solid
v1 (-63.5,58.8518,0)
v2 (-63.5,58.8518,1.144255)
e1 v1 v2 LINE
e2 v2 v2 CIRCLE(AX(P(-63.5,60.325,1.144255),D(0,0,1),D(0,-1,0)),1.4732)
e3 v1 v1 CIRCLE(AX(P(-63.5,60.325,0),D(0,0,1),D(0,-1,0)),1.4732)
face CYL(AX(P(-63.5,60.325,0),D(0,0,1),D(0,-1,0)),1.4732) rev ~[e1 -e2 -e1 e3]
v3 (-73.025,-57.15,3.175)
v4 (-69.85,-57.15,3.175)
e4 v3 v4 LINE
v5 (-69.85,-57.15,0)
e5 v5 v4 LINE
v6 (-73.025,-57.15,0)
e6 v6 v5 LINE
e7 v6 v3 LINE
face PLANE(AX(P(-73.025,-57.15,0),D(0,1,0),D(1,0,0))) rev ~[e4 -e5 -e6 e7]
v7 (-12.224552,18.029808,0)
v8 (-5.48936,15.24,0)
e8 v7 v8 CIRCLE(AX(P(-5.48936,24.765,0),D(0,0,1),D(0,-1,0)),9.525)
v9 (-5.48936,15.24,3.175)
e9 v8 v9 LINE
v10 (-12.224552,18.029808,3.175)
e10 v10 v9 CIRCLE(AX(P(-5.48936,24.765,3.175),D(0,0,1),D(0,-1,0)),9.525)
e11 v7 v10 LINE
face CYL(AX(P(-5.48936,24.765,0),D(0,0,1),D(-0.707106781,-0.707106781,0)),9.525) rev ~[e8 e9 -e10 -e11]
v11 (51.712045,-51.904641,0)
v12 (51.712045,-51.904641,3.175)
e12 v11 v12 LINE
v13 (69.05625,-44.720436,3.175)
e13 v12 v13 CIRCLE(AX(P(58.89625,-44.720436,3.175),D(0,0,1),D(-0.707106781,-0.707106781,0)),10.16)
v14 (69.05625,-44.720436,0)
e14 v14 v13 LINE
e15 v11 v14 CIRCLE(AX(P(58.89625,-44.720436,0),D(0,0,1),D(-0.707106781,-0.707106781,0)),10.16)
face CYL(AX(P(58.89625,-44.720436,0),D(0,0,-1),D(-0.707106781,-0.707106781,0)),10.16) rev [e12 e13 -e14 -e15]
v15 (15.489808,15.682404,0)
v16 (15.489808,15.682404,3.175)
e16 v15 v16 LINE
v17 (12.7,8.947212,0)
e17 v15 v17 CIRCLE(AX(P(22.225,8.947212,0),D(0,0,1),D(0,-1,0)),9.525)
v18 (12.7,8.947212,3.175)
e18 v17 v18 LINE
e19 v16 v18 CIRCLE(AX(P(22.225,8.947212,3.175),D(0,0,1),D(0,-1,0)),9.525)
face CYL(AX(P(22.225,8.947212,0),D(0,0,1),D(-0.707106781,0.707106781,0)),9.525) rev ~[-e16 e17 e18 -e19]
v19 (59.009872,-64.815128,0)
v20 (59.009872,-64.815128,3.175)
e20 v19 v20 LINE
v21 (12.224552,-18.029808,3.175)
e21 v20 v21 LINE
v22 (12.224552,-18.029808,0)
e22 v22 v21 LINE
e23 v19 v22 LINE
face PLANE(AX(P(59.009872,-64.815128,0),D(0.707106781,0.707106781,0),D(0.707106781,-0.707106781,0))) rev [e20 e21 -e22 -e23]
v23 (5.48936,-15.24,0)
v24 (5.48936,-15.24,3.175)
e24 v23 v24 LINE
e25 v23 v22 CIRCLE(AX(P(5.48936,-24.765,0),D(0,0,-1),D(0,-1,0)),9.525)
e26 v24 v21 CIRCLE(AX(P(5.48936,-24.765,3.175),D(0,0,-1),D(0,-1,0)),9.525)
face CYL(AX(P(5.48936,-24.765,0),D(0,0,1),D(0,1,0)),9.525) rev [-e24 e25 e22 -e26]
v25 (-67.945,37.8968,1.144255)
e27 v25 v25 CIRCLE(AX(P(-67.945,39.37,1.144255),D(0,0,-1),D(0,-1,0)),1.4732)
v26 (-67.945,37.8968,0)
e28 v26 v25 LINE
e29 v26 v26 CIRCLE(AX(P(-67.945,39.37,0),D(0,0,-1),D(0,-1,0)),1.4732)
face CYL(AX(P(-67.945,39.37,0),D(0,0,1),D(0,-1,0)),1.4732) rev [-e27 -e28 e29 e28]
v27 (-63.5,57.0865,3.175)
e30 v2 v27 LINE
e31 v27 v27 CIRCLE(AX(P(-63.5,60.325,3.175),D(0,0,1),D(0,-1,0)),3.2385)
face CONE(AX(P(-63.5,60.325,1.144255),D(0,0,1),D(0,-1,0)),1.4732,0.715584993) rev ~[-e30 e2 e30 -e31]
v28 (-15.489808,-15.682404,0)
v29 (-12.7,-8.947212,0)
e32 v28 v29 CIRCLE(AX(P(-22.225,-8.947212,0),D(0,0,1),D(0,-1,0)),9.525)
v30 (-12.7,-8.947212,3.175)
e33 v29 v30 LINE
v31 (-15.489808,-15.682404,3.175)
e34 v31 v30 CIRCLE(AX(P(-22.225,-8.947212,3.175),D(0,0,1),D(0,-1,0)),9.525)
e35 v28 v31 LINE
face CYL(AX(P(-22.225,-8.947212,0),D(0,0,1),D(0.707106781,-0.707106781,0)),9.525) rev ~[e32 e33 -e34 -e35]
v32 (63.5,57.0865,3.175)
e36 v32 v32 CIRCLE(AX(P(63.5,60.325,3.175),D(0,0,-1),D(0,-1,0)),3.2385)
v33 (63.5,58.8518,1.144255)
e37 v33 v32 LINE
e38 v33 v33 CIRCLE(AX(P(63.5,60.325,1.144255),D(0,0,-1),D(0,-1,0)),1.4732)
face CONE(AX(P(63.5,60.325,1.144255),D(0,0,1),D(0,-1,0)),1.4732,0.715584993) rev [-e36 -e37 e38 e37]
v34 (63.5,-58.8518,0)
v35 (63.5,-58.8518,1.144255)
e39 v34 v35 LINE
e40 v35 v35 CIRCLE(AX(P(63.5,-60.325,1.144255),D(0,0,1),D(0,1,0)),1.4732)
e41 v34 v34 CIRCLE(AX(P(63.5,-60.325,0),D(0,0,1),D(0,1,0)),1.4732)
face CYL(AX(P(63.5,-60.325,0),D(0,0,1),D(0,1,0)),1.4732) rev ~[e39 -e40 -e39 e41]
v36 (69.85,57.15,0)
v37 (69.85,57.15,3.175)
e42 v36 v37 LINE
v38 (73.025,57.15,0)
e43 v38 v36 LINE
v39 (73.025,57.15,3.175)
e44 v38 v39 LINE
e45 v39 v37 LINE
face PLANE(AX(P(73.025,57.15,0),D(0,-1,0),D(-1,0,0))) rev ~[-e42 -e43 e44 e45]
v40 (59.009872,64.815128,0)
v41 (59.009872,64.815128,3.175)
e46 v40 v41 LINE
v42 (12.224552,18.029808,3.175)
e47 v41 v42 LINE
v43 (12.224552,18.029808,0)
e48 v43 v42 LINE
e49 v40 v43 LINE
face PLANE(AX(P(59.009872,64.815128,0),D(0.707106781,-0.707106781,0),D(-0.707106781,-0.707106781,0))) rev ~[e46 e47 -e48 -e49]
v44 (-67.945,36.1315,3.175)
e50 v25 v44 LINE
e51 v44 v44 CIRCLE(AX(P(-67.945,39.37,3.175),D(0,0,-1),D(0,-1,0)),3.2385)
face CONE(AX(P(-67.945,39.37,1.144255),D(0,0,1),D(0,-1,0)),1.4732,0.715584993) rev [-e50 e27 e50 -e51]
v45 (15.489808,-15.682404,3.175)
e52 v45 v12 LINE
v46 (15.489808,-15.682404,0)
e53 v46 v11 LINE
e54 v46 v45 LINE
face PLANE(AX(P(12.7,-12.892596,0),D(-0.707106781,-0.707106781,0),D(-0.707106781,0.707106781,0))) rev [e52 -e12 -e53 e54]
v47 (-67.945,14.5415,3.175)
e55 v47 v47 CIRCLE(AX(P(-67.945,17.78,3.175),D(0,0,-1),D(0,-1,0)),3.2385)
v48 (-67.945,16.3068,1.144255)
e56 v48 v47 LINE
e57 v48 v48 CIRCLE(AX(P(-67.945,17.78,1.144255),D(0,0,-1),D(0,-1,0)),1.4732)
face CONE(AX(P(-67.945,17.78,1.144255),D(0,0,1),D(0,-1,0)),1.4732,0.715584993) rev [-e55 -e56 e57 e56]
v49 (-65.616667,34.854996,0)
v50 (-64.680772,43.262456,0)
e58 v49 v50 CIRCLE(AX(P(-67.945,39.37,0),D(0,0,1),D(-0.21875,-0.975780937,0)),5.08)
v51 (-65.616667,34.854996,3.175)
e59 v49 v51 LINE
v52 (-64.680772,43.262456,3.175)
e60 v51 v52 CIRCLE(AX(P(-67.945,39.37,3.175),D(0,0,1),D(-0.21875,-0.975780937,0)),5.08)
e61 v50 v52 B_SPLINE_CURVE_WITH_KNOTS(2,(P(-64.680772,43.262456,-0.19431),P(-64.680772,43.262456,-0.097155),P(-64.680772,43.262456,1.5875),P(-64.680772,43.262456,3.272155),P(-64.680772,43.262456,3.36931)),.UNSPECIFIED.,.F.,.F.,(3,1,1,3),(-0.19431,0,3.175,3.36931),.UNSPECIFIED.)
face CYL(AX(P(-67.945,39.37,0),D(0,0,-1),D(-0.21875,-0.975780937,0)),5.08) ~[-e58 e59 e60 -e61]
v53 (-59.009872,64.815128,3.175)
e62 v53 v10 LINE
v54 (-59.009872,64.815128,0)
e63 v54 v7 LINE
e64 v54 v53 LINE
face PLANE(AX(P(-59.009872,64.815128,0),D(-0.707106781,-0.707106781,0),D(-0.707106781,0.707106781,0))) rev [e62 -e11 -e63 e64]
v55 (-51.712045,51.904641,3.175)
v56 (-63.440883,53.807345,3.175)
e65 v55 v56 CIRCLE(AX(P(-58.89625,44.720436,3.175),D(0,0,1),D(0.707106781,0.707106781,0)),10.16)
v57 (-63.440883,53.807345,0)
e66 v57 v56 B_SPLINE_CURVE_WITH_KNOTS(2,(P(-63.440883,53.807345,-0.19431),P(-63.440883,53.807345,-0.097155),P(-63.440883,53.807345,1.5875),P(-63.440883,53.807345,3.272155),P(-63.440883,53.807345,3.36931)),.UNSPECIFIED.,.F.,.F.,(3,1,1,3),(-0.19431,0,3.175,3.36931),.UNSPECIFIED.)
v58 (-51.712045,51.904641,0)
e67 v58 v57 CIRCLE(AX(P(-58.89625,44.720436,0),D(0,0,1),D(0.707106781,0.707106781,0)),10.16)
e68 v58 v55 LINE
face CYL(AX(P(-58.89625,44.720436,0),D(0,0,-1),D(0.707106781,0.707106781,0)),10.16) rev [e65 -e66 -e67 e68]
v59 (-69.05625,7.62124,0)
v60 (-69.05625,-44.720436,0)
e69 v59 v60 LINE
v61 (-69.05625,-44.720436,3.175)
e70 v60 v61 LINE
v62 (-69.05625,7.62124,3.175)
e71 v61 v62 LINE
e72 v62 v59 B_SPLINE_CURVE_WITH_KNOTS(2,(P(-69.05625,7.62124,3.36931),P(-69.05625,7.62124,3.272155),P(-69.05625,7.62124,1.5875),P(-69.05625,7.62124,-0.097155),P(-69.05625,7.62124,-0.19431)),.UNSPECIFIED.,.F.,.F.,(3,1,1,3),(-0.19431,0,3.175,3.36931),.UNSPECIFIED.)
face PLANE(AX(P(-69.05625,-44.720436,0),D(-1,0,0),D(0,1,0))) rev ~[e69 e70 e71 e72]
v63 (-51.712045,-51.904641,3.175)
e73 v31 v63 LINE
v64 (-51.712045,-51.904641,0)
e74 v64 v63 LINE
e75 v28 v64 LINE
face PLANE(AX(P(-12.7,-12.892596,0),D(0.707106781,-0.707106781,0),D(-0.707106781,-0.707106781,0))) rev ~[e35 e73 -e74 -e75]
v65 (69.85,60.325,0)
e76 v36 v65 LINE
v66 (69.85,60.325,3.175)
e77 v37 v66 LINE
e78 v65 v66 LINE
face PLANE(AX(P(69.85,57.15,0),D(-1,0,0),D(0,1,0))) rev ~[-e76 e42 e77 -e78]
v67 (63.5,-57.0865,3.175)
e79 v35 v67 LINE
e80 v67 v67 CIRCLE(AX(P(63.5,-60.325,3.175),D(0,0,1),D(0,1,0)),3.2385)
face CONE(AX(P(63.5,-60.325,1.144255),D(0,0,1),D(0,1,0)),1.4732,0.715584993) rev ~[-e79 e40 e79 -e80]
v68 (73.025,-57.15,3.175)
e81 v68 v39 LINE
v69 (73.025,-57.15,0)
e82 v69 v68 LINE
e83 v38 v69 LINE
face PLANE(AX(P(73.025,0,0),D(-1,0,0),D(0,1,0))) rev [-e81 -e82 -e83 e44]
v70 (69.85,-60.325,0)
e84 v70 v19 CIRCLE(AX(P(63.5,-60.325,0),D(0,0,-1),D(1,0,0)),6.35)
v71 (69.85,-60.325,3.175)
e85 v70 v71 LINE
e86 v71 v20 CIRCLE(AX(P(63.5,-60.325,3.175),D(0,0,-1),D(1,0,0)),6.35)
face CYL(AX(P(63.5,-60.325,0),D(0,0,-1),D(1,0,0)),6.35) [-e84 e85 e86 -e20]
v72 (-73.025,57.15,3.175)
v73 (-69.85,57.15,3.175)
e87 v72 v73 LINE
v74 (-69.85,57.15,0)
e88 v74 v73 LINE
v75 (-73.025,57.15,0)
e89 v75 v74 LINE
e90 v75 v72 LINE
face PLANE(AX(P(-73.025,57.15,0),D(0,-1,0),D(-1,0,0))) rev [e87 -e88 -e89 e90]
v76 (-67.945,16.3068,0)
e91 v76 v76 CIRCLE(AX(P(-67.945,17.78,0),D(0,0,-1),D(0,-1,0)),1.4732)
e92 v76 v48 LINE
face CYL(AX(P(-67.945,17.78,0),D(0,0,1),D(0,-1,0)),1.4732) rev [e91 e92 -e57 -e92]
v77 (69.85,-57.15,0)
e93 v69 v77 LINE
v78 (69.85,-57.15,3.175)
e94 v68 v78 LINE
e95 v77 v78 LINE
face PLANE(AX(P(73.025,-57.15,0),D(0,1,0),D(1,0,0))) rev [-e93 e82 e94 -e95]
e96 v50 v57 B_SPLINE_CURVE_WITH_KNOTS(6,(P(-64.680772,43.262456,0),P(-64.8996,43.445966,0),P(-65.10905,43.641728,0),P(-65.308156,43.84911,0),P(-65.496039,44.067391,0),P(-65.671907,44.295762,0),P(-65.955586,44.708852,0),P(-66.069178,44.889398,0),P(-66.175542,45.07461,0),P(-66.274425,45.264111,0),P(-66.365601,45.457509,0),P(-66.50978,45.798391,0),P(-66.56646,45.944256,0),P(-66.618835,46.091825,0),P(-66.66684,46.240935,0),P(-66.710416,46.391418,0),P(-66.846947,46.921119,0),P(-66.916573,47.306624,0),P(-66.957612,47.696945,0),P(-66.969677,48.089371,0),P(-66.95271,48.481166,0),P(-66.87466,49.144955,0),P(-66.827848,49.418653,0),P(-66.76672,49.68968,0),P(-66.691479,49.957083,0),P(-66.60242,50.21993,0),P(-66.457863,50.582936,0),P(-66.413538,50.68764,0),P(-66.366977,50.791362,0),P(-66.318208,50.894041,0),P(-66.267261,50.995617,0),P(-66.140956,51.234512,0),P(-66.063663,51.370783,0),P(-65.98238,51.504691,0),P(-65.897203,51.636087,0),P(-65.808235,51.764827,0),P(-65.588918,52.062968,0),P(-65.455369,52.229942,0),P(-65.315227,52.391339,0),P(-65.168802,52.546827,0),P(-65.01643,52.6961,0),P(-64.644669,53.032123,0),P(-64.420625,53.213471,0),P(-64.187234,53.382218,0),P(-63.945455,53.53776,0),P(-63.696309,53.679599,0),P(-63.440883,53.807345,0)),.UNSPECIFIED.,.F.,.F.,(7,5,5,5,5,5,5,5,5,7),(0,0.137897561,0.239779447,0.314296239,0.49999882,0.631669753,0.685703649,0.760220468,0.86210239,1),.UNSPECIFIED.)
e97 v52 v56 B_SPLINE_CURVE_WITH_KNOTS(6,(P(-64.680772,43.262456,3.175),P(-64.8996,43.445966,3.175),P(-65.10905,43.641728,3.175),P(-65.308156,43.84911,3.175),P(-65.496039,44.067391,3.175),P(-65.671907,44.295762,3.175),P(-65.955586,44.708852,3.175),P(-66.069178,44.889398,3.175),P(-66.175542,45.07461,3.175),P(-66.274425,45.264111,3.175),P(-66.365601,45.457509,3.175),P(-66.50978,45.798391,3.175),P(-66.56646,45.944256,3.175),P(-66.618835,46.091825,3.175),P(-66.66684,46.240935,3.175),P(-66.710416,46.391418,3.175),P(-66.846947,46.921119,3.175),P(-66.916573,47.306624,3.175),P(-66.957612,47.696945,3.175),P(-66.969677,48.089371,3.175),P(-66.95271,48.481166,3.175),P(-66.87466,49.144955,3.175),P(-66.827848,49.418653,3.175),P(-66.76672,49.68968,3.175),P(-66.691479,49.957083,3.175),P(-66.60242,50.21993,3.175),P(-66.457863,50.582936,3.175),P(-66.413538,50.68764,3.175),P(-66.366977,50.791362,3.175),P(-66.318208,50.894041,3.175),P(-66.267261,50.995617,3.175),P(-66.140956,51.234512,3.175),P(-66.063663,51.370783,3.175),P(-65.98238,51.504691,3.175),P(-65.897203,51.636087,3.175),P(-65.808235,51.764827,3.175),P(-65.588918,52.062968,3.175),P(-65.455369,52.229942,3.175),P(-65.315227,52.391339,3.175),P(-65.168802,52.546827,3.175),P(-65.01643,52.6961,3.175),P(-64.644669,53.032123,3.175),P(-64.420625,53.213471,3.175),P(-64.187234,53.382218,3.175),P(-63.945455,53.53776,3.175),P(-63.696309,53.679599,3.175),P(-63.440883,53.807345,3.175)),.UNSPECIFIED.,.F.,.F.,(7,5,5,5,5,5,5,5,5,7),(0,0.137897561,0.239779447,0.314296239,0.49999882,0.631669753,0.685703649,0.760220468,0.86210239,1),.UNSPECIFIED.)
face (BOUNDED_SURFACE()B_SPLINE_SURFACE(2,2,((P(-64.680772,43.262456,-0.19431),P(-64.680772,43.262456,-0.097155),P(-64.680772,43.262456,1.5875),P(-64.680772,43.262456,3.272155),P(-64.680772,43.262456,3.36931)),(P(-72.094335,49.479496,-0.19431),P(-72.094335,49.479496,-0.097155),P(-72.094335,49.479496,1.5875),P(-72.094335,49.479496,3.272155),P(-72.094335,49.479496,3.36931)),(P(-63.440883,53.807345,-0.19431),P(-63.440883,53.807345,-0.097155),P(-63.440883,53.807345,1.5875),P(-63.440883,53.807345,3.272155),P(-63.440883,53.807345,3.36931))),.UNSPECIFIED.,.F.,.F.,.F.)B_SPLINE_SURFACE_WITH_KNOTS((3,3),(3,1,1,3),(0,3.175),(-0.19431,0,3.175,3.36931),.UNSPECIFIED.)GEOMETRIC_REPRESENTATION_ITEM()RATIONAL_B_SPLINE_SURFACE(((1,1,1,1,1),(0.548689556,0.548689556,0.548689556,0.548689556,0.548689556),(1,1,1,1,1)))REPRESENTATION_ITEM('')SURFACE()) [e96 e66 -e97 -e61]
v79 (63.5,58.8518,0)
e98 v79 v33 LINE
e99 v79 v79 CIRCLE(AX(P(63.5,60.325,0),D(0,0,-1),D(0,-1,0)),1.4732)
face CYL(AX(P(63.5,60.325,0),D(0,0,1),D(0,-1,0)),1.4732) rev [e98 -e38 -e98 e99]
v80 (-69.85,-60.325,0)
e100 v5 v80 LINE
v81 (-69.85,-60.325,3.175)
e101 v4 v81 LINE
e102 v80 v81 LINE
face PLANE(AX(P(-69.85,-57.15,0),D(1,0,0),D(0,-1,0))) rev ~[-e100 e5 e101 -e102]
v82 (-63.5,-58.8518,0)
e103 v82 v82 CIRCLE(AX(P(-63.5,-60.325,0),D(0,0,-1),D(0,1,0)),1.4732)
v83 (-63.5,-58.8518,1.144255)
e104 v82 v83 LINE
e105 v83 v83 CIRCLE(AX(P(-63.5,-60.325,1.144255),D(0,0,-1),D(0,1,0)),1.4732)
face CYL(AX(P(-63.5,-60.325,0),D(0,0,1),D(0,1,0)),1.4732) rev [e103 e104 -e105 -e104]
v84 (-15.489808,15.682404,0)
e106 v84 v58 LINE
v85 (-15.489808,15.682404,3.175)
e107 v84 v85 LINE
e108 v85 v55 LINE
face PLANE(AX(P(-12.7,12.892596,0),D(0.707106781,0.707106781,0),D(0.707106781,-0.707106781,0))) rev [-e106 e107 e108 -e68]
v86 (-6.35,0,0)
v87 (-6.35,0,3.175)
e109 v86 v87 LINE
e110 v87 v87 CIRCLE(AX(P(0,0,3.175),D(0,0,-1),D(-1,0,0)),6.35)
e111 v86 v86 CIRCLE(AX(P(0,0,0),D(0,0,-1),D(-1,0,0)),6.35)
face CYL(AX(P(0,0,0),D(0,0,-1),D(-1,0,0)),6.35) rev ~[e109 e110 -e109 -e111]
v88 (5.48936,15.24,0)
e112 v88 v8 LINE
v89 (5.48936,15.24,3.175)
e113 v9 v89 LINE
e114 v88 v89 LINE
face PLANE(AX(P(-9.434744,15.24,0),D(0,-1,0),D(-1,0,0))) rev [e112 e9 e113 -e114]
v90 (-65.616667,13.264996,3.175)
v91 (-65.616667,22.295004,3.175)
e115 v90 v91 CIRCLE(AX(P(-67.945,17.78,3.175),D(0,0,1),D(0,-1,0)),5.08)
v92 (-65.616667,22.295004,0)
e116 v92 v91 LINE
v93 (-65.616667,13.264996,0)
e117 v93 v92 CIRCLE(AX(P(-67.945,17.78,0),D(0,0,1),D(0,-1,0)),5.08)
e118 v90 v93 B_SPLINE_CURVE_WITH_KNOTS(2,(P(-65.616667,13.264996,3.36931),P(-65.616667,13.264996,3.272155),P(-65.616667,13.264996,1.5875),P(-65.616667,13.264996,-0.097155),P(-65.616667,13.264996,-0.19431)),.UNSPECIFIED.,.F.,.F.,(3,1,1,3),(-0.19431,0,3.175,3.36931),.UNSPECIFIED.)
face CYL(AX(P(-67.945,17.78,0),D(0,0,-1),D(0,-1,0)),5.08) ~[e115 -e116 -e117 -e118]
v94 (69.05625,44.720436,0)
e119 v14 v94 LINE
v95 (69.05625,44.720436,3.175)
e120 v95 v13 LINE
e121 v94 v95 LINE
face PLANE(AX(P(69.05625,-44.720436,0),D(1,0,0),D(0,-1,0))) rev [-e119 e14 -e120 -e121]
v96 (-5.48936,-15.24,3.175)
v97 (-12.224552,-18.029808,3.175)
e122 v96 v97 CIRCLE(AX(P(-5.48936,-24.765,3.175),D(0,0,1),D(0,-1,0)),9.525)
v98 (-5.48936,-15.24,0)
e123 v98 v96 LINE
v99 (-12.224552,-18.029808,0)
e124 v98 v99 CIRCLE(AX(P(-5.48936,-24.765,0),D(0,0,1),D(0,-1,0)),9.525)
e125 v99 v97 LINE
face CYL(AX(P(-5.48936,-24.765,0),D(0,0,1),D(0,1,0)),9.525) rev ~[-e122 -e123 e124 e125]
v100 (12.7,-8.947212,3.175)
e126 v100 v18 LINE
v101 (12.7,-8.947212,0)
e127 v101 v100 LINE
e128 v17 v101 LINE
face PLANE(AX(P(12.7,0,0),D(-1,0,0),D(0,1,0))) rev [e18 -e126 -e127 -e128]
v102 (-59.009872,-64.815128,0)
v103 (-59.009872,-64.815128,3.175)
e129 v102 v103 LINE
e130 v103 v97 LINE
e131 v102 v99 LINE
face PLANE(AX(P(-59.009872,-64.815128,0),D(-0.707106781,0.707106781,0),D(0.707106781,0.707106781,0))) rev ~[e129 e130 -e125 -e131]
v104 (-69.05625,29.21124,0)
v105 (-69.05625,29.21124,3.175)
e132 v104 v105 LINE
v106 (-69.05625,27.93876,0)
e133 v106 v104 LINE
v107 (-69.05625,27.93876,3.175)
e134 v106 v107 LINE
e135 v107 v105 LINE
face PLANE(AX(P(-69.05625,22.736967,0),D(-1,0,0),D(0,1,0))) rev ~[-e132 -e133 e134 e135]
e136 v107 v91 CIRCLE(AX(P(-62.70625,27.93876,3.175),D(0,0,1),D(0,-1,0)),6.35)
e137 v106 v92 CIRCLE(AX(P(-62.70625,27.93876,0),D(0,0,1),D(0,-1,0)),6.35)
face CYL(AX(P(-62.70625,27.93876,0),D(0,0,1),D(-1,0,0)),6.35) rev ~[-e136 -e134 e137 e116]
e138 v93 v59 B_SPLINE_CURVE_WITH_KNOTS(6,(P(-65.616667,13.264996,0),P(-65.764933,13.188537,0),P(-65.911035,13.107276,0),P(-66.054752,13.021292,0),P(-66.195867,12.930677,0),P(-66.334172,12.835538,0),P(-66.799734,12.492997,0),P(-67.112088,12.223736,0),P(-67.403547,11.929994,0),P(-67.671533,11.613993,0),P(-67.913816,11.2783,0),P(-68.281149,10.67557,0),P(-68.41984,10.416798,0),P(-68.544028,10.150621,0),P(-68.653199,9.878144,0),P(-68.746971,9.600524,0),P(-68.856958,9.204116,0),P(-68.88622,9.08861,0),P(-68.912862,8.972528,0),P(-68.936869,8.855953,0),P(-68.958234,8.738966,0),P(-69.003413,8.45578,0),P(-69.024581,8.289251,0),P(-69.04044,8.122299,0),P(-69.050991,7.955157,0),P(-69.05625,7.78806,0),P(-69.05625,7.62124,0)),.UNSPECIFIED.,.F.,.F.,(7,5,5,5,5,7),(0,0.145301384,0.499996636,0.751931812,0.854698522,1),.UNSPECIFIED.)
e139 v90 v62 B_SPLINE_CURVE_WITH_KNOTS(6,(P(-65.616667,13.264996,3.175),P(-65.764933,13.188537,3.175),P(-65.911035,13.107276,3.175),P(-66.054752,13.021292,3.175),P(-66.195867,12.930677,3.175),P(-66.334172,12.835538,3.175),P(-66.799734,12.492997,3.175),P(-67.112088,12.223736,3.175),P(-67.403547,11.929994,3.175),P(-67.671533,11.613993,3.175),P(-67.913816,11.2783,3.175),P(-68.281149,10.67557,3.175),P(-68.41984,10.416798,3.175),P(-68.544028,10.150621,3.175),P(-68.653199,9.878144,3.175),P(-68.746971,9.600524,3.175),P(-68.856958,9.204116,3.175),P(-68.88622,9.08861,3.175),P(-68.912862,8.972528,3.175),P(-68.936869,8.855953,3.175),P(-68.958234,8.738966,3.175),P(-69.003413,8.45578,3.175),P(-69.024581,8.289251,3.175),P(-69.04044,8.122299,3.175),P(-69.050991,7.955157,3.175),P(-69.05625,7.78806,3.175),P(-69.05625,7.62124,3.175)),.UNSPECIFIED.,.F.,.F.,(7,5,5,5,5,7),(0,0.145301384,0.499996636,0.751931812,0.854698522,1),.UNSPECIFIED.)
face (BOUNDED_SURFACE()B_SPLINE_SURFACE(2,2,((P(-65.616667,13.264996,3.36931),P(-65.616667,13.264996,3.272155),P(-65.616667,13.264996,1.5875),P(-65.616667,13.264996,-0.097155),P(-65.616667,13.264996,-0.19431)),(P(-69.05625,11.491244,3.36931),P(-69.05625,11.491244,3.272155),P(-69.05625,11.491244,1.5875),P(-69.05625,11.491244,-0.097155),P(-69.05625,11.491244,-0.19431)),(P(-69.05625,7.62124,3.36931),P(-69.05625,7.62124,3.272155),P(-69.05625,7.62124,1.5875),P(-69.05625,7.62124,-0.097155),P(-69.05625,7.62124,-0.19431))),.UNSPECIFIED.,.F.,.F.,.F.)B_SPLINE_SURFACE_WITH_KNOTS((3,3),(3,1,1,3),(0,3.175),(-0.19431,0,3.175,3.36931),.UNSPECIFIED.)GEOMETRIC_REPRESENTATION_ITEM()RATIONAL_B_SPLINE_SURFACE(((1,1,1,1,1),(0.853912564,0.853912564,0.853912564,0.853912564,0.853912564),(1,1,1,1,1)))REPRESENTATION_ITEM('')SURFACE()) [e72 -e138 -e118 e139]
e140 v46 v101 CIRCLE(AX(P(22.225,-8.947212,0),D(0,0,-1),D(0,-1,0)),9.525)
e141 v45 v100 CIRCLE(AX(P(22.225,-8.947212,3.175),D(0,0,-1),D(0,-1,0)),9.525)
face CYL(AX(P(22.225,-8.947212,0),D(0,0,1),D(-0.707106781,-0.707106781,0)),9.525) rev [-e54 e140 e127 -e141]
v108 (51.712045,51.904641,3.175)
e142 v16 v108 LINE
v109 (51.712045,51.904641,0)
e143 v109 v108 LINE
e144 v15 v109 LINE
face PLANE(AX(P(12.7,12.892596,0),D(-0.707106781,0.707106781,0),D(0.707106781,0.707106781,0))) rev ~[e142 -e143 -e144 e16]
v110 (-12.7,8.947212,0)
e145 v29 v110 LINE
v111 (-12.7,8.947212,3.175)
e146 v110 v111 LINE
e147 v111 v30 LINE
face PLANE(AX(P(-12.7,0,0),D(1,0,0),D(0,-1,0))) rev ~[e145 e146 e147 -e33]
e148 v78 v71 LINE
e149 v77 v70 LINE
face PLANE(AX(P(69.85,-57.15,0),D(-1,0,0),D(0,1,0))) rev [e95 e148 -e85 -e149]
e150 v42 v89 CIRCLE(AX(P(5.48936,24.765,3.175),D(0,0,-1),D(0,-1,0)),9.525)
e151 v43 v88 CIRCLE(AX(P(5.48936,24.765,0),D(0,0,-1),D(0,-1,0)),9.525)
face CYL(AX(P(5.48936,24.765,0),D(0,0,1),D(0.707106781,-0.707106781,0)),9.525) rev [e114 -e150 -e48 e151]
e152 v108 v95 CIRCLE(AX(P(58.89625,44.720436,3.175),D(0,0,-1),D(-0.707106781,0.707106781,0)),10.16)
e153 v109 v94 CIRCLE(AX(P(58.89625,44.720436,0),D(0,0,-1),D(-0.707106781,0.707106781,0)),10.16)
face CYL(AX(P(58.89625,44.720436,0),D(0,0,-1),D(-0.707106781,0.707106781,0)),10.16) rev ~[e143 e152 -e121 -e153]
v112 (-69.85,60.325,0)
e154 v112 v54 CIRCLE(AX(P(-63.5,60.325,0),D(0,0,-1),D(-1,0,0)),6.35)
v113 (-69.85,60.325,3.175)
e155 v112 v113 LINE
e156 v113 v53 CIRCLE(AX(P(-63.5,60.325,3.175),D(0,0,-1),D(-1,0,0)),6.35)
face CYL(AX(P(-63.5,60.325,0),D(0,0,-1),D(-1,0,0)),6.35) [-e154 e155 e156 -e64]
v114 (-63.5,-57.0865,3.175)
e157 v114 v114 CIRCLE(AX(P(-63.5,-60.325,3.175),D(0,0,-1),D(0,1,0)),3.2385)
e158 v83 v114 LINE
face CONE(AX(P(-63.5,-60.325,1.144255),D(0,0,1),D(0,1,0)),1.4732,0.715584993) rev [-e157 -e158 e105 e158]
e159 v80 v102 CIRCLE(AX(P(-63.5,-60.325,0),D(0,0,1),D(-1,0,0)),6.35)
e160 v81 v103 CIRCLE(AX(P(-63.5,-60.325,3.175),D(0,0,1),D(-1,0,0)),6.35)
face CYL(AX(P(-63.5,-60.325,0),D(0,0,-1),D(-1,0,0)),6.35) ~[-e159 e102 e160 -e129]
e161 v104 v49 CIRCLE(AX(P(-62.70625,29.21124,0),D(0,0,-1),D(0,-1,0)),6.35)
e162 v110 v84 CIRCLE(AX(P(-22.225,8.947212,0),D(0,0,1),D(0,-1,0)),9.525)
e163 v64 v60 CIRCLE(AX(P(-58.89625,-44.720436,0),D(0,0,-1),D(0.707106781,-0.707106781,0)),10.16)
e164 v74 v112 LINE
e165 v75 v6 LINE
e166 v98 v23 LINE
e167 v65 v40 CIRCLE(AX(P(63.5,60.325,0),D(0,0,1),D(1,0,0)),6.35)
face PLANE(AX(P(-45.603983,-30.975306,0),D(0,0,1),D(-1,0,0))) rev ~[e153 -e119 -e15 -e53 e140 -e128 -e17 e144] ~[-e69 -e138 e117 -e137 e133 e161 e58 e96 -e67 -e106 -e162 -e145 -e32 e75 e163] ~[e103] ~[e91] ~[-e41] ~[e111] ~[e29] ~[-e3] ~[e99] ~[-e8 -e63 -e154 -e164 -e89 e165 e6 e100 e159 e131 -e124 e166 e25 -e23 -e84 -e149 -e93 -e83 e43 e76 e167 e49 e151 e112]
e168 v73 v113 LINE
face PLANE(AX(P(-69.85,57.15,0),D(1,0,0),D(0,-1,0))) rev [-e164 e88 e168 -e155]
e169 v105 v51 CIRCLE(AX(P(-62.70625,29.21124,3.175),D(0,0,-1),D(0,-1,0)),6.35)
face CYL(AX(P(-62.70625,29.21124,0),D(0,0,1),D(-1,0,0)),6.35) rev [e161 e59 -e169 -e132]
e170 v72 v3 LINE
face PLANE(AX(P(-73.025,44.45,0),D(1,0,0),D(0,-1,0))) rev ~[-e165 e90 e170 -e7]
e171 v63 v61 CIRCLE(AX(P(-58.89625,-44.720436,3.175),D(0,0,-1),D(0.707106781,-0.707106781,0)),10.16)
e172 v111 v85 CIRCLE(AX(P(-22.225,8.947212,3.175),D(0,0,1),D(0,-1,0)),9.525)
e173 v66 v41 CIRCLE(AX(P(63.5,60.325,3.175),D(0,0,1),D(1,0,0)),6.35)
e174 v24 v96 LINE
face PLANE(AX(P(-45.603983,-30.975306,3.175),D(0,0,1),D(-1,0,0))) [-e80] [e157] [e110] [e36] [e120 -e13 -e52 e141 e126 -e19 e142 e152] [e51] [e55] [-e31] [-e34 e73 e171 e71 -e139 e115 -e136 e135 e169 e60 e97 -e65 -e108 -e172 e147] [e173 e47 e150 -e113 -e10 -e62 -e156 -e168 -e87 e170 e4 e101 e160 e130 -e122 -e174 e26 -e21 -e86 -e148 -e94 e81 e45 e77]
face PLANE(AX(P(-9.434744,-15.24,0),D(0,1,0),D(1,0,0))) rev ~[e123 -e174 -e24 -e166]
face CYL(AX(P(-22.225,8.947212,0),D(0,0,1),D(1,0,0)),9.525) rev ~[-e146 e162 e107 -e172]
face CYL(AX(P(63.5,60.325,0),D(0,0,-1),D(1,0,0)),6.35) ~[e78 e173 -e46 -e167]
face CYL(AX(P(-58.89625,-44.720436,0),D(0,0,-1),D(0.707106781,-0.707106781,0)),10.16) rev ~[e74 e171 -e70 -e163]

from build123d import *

# Parameters (mm, degrees)
BOSS_EXTRUDE1_DEPTH           = 3.175
MIRROR2_COPY_1_DEPTH          = 3.175
INTERNAL_SHARPS_R             = 9.525
IMU_MOUNTING_DEPTH            = 3.175
IMU_MOUNTING_HOLES_AT_2_COUNT = 2
IMU_MOUNTING_HOLES_AT_2_PITCH = 21.59
FILLET4_R                     = 6.35
SKETCH6_R                     = 6.35
MATERIAL_REMOVAL_DEPTH        = 99.935771608


with BuildPart() as part:
    # Sketch1 → Boss-Extrude1 (new body)
    with BuildSketch(Plane.XY):
        with BuildLine():
            Line((9.434743879, 15.24), (0, 15.24))
            Line((0, 15.24), (0, 0))
            Line((0, 0), (12.7, 0))
            Line((12.7, 0), (12.7, 12.892596045))
            Line((12.7, 12.892596045), (51.712045103, 51.904641149))
            ThreePointArc((51.712045103, 51.904641149), (62.784313673, 54.107052302), (69.05625, 44.720436252))
            Line((69.05625, 44.720436252), (69.05625, 0))
            Line((69.05625, 0), (73.025, 0))
            Line((73.025, 0), (73.025, 57.15))
            Line((73.025, 57.15), (69.85, 57.15))
            Line((69.85, 57.15), (69.85, 60.325))
            ThreePointArc((69.85, 60.325), (65.930039796, 66.191635031), (59.009871939, 64.815128061))
            Line((59.009871939, 64.815128061), (9.434743879, 15.24))
        make_face()
    boss_extrude1 = extrude(amount=BOSS_EXTRUDE1_DEPTH)

    # Sketch11 → CSK for #4 Flat Head Machine Screw1 (revolve, cut)
    with BuildSketch(Plane(origin=(63.5, 60.325, 3.175), x_dir=(0, -1, 0), z_dir=(1, 0, 0))):
        Polygon((0, 0), (0, 3.175), (1.4732, 3.175), (1.4732, 2.030745349), (3.2385, 0), align=None)
    csk_for_4_flat_head_machine_screw1 = revolve(axis=Axis((63.5, 60.325, 9.525), (0, 0, -1)), mode=Mode.SUBTRACT)

    # Mirror1: Boss-Extrude1, CSK for #4 Flat Head Machine Screw1 across plane
    add(boss_extrude1.mirror(Plane.ZX))
    add(csk_for_4_flat_head_machine_screw1.mirror(Plane.ZX), mode=Mode.SUBTRACT)

    # Mirror2: Boss-Extrude1, CSK for #4 Flat Head Machine Screw1 across plane
    add(boss_extrude1.mirror(Plane(origin=(0, 0, 0), x_dir=(0, 0, 1), z_dir=(1, 0, 0))))
    add(csk_for_4_flat_head_machine_screw1.mirror(Plane(origin=(0, 0, 0), x_dir=(0, 0, 1), z_dir=(1, 0, 0))), mode=Mode.SUBTRACT)

    # Mirror2 copy 1 sketch → Mirror2 copy 1 (add)
    with BuildSketch(Plane(origin=(0, 0, 0), x_dir=(-1, 0, 0), z_dir=(0, 0, 1))):
        with BuildLine():
            Line((9.434743879, 15.24), (0, 15.24))
            Line((0, 15.24), (0, 0))
            Line((0, 0), (12.7, 0))
            Line((12.7, 0), (12.7, 12.892596045))
            Line((12.7, 12.892596045), (51.712045103, 51.904641149))
            ThreePointArc((51.712045103, 51.904641149), (62.784313673, 54.107052302), (69.05625, 44.720436252))
            Line((69.05625, 44.720436252), (69.05625, 0))
            Line((69.05625, 0), (73.025, 0))
            Line((73.025, 0), (73.025, 57.15))
            Line((73.025, 57.15), (69.85, 57.15))
            Line((69.85, 57.15), (69.85, 60.325))
            ThreePointArc((69.85, 60.325), (65.930039796, 66.191635031), (59.009871939, 64.815128061))
            Line((59.009871939, 64.815128061), (9.434743879, 15.24))
        make_face()
    extrude(amount=MIRROR2_COPY_1_DEPTH)

    # Mirror2 copy 2 sketch → Mirror2 copy 2 (revolve, cut)
    with BuildSketch(Plane(origin=(-63.5, -60.325, 3.175), x_dir=(0, 1, 0), z_dir=(-1, 0, 0))):
        Polygon((0, 0), (0, 3.175), (1.4732, 3.175), (1.4732, 2.030745349), (3.2385, 0), align=None)
    revolve(axis=Axis((-63.5, -60.325, 9.525), (0, 0, -1)), mode=Mode.SUBTRACT)

    # INTERNAL-SHARPS
    internal_sharps_edges = [part.edges().sort_by_distance(p)[0] for p in [
        (-9.434743879, 15.24, 1.5875),
        (-12.7, 12.892596045, 1.5875),
        (9.434743879, 15.24, 1.5875),
        (12.7, 12.892596045, 1.5875),
        (9.434743879, -15.24, 1.5875),
        (12.7, -12.892596045, 1.5875),
        (-12.7, -12.892596045, 1.5875),
        (-9.434743879, -15.24, 1.5875),
    ]]
    fillet(internal_sharps_edges, radius=INTERNAL_SHARPS_R)

    # Sketch13 → IMU-MOUNTING (add)
    with BuildSketch(Plane.XY):
        with BuildLine():
            Line((-73.025, 44.45), (-73.025, 12.7))
            Line((-73.025, 12.7), (-67.945, 12.7))
            ThreePointArc((-67.945, 12.7), (-62.895851895, 18.339020045), (-69.05625, 22.736967161))
            Line((-69.05625, 22.736967161), (-69.05625, 34.413032839))
            ThreePointArc((-69.05625, 34.413032839), (-62.895851895, 38.810979955), (-67.945, 44.45))
            Line((-67.945, 44.45), (-73.025, 44.45))
        make_face()
    extrude(amount=IMU_MOUNTING_DEPTH)

    # Sketch15 → IMU-MOUNTING-HOLES (revolve, cut)
    with BuildSketch(Plane(origin=(-67.945, 17.78, 3.175), x_dir=(0, -1, 0), z_dir=(1, 0, 0))):
        Polygon((0, 0), (0, 3.175), (1.4732, 3.175), (1.4732, 2.030745349), (3.2385, 0), align=None)
    imu_mounting_holes = revolve(axis=Axis((-67.945, 17.78, 9.525), (0, 0, -1)), mode=Mode.SUBTRACT)

    # IMU-MOUNTING-HOLES at 2: IMU-MOUNTING-HOLES ×2
    with Locations(*[(0, i * IMU_MOUNTING_HOLES_AT_2_PITCH, 0) for i in range(1, IMU_MOUNTING_HOLES_AT_2_COUNT)]):
        add(imu_mounting_holes, mode=Mode.SUBTRACT)

    # Fillet4
    fillet4_edges = [part.edges().sort_by_distance(p)[0] for p in [
        (-69.05625, 44.45, 1.5875),
        (-69.05625, 12.7, 1.5875),
        (-69.05625, 22.736967161, 1.5875),
        (-69.05625, 34.413032839, 1.5875),
    ]]
    fillet(fillet4_edges, radius=FILLET4_R)

    # Sketch6 → MATERIAL-REMOVAL (cut, through all)
    with BuildSketch(Plane(origin=(0, 0, 0), x_dir=(-1, 0, 0), z_dir=(0, 0, -1))):
        Circle(SKETCH6_R)
    extrude(amount=-MATERIAL_REMOVAL_DEPTH, mode=Mode.SUBTRACT)


solid = part.part
